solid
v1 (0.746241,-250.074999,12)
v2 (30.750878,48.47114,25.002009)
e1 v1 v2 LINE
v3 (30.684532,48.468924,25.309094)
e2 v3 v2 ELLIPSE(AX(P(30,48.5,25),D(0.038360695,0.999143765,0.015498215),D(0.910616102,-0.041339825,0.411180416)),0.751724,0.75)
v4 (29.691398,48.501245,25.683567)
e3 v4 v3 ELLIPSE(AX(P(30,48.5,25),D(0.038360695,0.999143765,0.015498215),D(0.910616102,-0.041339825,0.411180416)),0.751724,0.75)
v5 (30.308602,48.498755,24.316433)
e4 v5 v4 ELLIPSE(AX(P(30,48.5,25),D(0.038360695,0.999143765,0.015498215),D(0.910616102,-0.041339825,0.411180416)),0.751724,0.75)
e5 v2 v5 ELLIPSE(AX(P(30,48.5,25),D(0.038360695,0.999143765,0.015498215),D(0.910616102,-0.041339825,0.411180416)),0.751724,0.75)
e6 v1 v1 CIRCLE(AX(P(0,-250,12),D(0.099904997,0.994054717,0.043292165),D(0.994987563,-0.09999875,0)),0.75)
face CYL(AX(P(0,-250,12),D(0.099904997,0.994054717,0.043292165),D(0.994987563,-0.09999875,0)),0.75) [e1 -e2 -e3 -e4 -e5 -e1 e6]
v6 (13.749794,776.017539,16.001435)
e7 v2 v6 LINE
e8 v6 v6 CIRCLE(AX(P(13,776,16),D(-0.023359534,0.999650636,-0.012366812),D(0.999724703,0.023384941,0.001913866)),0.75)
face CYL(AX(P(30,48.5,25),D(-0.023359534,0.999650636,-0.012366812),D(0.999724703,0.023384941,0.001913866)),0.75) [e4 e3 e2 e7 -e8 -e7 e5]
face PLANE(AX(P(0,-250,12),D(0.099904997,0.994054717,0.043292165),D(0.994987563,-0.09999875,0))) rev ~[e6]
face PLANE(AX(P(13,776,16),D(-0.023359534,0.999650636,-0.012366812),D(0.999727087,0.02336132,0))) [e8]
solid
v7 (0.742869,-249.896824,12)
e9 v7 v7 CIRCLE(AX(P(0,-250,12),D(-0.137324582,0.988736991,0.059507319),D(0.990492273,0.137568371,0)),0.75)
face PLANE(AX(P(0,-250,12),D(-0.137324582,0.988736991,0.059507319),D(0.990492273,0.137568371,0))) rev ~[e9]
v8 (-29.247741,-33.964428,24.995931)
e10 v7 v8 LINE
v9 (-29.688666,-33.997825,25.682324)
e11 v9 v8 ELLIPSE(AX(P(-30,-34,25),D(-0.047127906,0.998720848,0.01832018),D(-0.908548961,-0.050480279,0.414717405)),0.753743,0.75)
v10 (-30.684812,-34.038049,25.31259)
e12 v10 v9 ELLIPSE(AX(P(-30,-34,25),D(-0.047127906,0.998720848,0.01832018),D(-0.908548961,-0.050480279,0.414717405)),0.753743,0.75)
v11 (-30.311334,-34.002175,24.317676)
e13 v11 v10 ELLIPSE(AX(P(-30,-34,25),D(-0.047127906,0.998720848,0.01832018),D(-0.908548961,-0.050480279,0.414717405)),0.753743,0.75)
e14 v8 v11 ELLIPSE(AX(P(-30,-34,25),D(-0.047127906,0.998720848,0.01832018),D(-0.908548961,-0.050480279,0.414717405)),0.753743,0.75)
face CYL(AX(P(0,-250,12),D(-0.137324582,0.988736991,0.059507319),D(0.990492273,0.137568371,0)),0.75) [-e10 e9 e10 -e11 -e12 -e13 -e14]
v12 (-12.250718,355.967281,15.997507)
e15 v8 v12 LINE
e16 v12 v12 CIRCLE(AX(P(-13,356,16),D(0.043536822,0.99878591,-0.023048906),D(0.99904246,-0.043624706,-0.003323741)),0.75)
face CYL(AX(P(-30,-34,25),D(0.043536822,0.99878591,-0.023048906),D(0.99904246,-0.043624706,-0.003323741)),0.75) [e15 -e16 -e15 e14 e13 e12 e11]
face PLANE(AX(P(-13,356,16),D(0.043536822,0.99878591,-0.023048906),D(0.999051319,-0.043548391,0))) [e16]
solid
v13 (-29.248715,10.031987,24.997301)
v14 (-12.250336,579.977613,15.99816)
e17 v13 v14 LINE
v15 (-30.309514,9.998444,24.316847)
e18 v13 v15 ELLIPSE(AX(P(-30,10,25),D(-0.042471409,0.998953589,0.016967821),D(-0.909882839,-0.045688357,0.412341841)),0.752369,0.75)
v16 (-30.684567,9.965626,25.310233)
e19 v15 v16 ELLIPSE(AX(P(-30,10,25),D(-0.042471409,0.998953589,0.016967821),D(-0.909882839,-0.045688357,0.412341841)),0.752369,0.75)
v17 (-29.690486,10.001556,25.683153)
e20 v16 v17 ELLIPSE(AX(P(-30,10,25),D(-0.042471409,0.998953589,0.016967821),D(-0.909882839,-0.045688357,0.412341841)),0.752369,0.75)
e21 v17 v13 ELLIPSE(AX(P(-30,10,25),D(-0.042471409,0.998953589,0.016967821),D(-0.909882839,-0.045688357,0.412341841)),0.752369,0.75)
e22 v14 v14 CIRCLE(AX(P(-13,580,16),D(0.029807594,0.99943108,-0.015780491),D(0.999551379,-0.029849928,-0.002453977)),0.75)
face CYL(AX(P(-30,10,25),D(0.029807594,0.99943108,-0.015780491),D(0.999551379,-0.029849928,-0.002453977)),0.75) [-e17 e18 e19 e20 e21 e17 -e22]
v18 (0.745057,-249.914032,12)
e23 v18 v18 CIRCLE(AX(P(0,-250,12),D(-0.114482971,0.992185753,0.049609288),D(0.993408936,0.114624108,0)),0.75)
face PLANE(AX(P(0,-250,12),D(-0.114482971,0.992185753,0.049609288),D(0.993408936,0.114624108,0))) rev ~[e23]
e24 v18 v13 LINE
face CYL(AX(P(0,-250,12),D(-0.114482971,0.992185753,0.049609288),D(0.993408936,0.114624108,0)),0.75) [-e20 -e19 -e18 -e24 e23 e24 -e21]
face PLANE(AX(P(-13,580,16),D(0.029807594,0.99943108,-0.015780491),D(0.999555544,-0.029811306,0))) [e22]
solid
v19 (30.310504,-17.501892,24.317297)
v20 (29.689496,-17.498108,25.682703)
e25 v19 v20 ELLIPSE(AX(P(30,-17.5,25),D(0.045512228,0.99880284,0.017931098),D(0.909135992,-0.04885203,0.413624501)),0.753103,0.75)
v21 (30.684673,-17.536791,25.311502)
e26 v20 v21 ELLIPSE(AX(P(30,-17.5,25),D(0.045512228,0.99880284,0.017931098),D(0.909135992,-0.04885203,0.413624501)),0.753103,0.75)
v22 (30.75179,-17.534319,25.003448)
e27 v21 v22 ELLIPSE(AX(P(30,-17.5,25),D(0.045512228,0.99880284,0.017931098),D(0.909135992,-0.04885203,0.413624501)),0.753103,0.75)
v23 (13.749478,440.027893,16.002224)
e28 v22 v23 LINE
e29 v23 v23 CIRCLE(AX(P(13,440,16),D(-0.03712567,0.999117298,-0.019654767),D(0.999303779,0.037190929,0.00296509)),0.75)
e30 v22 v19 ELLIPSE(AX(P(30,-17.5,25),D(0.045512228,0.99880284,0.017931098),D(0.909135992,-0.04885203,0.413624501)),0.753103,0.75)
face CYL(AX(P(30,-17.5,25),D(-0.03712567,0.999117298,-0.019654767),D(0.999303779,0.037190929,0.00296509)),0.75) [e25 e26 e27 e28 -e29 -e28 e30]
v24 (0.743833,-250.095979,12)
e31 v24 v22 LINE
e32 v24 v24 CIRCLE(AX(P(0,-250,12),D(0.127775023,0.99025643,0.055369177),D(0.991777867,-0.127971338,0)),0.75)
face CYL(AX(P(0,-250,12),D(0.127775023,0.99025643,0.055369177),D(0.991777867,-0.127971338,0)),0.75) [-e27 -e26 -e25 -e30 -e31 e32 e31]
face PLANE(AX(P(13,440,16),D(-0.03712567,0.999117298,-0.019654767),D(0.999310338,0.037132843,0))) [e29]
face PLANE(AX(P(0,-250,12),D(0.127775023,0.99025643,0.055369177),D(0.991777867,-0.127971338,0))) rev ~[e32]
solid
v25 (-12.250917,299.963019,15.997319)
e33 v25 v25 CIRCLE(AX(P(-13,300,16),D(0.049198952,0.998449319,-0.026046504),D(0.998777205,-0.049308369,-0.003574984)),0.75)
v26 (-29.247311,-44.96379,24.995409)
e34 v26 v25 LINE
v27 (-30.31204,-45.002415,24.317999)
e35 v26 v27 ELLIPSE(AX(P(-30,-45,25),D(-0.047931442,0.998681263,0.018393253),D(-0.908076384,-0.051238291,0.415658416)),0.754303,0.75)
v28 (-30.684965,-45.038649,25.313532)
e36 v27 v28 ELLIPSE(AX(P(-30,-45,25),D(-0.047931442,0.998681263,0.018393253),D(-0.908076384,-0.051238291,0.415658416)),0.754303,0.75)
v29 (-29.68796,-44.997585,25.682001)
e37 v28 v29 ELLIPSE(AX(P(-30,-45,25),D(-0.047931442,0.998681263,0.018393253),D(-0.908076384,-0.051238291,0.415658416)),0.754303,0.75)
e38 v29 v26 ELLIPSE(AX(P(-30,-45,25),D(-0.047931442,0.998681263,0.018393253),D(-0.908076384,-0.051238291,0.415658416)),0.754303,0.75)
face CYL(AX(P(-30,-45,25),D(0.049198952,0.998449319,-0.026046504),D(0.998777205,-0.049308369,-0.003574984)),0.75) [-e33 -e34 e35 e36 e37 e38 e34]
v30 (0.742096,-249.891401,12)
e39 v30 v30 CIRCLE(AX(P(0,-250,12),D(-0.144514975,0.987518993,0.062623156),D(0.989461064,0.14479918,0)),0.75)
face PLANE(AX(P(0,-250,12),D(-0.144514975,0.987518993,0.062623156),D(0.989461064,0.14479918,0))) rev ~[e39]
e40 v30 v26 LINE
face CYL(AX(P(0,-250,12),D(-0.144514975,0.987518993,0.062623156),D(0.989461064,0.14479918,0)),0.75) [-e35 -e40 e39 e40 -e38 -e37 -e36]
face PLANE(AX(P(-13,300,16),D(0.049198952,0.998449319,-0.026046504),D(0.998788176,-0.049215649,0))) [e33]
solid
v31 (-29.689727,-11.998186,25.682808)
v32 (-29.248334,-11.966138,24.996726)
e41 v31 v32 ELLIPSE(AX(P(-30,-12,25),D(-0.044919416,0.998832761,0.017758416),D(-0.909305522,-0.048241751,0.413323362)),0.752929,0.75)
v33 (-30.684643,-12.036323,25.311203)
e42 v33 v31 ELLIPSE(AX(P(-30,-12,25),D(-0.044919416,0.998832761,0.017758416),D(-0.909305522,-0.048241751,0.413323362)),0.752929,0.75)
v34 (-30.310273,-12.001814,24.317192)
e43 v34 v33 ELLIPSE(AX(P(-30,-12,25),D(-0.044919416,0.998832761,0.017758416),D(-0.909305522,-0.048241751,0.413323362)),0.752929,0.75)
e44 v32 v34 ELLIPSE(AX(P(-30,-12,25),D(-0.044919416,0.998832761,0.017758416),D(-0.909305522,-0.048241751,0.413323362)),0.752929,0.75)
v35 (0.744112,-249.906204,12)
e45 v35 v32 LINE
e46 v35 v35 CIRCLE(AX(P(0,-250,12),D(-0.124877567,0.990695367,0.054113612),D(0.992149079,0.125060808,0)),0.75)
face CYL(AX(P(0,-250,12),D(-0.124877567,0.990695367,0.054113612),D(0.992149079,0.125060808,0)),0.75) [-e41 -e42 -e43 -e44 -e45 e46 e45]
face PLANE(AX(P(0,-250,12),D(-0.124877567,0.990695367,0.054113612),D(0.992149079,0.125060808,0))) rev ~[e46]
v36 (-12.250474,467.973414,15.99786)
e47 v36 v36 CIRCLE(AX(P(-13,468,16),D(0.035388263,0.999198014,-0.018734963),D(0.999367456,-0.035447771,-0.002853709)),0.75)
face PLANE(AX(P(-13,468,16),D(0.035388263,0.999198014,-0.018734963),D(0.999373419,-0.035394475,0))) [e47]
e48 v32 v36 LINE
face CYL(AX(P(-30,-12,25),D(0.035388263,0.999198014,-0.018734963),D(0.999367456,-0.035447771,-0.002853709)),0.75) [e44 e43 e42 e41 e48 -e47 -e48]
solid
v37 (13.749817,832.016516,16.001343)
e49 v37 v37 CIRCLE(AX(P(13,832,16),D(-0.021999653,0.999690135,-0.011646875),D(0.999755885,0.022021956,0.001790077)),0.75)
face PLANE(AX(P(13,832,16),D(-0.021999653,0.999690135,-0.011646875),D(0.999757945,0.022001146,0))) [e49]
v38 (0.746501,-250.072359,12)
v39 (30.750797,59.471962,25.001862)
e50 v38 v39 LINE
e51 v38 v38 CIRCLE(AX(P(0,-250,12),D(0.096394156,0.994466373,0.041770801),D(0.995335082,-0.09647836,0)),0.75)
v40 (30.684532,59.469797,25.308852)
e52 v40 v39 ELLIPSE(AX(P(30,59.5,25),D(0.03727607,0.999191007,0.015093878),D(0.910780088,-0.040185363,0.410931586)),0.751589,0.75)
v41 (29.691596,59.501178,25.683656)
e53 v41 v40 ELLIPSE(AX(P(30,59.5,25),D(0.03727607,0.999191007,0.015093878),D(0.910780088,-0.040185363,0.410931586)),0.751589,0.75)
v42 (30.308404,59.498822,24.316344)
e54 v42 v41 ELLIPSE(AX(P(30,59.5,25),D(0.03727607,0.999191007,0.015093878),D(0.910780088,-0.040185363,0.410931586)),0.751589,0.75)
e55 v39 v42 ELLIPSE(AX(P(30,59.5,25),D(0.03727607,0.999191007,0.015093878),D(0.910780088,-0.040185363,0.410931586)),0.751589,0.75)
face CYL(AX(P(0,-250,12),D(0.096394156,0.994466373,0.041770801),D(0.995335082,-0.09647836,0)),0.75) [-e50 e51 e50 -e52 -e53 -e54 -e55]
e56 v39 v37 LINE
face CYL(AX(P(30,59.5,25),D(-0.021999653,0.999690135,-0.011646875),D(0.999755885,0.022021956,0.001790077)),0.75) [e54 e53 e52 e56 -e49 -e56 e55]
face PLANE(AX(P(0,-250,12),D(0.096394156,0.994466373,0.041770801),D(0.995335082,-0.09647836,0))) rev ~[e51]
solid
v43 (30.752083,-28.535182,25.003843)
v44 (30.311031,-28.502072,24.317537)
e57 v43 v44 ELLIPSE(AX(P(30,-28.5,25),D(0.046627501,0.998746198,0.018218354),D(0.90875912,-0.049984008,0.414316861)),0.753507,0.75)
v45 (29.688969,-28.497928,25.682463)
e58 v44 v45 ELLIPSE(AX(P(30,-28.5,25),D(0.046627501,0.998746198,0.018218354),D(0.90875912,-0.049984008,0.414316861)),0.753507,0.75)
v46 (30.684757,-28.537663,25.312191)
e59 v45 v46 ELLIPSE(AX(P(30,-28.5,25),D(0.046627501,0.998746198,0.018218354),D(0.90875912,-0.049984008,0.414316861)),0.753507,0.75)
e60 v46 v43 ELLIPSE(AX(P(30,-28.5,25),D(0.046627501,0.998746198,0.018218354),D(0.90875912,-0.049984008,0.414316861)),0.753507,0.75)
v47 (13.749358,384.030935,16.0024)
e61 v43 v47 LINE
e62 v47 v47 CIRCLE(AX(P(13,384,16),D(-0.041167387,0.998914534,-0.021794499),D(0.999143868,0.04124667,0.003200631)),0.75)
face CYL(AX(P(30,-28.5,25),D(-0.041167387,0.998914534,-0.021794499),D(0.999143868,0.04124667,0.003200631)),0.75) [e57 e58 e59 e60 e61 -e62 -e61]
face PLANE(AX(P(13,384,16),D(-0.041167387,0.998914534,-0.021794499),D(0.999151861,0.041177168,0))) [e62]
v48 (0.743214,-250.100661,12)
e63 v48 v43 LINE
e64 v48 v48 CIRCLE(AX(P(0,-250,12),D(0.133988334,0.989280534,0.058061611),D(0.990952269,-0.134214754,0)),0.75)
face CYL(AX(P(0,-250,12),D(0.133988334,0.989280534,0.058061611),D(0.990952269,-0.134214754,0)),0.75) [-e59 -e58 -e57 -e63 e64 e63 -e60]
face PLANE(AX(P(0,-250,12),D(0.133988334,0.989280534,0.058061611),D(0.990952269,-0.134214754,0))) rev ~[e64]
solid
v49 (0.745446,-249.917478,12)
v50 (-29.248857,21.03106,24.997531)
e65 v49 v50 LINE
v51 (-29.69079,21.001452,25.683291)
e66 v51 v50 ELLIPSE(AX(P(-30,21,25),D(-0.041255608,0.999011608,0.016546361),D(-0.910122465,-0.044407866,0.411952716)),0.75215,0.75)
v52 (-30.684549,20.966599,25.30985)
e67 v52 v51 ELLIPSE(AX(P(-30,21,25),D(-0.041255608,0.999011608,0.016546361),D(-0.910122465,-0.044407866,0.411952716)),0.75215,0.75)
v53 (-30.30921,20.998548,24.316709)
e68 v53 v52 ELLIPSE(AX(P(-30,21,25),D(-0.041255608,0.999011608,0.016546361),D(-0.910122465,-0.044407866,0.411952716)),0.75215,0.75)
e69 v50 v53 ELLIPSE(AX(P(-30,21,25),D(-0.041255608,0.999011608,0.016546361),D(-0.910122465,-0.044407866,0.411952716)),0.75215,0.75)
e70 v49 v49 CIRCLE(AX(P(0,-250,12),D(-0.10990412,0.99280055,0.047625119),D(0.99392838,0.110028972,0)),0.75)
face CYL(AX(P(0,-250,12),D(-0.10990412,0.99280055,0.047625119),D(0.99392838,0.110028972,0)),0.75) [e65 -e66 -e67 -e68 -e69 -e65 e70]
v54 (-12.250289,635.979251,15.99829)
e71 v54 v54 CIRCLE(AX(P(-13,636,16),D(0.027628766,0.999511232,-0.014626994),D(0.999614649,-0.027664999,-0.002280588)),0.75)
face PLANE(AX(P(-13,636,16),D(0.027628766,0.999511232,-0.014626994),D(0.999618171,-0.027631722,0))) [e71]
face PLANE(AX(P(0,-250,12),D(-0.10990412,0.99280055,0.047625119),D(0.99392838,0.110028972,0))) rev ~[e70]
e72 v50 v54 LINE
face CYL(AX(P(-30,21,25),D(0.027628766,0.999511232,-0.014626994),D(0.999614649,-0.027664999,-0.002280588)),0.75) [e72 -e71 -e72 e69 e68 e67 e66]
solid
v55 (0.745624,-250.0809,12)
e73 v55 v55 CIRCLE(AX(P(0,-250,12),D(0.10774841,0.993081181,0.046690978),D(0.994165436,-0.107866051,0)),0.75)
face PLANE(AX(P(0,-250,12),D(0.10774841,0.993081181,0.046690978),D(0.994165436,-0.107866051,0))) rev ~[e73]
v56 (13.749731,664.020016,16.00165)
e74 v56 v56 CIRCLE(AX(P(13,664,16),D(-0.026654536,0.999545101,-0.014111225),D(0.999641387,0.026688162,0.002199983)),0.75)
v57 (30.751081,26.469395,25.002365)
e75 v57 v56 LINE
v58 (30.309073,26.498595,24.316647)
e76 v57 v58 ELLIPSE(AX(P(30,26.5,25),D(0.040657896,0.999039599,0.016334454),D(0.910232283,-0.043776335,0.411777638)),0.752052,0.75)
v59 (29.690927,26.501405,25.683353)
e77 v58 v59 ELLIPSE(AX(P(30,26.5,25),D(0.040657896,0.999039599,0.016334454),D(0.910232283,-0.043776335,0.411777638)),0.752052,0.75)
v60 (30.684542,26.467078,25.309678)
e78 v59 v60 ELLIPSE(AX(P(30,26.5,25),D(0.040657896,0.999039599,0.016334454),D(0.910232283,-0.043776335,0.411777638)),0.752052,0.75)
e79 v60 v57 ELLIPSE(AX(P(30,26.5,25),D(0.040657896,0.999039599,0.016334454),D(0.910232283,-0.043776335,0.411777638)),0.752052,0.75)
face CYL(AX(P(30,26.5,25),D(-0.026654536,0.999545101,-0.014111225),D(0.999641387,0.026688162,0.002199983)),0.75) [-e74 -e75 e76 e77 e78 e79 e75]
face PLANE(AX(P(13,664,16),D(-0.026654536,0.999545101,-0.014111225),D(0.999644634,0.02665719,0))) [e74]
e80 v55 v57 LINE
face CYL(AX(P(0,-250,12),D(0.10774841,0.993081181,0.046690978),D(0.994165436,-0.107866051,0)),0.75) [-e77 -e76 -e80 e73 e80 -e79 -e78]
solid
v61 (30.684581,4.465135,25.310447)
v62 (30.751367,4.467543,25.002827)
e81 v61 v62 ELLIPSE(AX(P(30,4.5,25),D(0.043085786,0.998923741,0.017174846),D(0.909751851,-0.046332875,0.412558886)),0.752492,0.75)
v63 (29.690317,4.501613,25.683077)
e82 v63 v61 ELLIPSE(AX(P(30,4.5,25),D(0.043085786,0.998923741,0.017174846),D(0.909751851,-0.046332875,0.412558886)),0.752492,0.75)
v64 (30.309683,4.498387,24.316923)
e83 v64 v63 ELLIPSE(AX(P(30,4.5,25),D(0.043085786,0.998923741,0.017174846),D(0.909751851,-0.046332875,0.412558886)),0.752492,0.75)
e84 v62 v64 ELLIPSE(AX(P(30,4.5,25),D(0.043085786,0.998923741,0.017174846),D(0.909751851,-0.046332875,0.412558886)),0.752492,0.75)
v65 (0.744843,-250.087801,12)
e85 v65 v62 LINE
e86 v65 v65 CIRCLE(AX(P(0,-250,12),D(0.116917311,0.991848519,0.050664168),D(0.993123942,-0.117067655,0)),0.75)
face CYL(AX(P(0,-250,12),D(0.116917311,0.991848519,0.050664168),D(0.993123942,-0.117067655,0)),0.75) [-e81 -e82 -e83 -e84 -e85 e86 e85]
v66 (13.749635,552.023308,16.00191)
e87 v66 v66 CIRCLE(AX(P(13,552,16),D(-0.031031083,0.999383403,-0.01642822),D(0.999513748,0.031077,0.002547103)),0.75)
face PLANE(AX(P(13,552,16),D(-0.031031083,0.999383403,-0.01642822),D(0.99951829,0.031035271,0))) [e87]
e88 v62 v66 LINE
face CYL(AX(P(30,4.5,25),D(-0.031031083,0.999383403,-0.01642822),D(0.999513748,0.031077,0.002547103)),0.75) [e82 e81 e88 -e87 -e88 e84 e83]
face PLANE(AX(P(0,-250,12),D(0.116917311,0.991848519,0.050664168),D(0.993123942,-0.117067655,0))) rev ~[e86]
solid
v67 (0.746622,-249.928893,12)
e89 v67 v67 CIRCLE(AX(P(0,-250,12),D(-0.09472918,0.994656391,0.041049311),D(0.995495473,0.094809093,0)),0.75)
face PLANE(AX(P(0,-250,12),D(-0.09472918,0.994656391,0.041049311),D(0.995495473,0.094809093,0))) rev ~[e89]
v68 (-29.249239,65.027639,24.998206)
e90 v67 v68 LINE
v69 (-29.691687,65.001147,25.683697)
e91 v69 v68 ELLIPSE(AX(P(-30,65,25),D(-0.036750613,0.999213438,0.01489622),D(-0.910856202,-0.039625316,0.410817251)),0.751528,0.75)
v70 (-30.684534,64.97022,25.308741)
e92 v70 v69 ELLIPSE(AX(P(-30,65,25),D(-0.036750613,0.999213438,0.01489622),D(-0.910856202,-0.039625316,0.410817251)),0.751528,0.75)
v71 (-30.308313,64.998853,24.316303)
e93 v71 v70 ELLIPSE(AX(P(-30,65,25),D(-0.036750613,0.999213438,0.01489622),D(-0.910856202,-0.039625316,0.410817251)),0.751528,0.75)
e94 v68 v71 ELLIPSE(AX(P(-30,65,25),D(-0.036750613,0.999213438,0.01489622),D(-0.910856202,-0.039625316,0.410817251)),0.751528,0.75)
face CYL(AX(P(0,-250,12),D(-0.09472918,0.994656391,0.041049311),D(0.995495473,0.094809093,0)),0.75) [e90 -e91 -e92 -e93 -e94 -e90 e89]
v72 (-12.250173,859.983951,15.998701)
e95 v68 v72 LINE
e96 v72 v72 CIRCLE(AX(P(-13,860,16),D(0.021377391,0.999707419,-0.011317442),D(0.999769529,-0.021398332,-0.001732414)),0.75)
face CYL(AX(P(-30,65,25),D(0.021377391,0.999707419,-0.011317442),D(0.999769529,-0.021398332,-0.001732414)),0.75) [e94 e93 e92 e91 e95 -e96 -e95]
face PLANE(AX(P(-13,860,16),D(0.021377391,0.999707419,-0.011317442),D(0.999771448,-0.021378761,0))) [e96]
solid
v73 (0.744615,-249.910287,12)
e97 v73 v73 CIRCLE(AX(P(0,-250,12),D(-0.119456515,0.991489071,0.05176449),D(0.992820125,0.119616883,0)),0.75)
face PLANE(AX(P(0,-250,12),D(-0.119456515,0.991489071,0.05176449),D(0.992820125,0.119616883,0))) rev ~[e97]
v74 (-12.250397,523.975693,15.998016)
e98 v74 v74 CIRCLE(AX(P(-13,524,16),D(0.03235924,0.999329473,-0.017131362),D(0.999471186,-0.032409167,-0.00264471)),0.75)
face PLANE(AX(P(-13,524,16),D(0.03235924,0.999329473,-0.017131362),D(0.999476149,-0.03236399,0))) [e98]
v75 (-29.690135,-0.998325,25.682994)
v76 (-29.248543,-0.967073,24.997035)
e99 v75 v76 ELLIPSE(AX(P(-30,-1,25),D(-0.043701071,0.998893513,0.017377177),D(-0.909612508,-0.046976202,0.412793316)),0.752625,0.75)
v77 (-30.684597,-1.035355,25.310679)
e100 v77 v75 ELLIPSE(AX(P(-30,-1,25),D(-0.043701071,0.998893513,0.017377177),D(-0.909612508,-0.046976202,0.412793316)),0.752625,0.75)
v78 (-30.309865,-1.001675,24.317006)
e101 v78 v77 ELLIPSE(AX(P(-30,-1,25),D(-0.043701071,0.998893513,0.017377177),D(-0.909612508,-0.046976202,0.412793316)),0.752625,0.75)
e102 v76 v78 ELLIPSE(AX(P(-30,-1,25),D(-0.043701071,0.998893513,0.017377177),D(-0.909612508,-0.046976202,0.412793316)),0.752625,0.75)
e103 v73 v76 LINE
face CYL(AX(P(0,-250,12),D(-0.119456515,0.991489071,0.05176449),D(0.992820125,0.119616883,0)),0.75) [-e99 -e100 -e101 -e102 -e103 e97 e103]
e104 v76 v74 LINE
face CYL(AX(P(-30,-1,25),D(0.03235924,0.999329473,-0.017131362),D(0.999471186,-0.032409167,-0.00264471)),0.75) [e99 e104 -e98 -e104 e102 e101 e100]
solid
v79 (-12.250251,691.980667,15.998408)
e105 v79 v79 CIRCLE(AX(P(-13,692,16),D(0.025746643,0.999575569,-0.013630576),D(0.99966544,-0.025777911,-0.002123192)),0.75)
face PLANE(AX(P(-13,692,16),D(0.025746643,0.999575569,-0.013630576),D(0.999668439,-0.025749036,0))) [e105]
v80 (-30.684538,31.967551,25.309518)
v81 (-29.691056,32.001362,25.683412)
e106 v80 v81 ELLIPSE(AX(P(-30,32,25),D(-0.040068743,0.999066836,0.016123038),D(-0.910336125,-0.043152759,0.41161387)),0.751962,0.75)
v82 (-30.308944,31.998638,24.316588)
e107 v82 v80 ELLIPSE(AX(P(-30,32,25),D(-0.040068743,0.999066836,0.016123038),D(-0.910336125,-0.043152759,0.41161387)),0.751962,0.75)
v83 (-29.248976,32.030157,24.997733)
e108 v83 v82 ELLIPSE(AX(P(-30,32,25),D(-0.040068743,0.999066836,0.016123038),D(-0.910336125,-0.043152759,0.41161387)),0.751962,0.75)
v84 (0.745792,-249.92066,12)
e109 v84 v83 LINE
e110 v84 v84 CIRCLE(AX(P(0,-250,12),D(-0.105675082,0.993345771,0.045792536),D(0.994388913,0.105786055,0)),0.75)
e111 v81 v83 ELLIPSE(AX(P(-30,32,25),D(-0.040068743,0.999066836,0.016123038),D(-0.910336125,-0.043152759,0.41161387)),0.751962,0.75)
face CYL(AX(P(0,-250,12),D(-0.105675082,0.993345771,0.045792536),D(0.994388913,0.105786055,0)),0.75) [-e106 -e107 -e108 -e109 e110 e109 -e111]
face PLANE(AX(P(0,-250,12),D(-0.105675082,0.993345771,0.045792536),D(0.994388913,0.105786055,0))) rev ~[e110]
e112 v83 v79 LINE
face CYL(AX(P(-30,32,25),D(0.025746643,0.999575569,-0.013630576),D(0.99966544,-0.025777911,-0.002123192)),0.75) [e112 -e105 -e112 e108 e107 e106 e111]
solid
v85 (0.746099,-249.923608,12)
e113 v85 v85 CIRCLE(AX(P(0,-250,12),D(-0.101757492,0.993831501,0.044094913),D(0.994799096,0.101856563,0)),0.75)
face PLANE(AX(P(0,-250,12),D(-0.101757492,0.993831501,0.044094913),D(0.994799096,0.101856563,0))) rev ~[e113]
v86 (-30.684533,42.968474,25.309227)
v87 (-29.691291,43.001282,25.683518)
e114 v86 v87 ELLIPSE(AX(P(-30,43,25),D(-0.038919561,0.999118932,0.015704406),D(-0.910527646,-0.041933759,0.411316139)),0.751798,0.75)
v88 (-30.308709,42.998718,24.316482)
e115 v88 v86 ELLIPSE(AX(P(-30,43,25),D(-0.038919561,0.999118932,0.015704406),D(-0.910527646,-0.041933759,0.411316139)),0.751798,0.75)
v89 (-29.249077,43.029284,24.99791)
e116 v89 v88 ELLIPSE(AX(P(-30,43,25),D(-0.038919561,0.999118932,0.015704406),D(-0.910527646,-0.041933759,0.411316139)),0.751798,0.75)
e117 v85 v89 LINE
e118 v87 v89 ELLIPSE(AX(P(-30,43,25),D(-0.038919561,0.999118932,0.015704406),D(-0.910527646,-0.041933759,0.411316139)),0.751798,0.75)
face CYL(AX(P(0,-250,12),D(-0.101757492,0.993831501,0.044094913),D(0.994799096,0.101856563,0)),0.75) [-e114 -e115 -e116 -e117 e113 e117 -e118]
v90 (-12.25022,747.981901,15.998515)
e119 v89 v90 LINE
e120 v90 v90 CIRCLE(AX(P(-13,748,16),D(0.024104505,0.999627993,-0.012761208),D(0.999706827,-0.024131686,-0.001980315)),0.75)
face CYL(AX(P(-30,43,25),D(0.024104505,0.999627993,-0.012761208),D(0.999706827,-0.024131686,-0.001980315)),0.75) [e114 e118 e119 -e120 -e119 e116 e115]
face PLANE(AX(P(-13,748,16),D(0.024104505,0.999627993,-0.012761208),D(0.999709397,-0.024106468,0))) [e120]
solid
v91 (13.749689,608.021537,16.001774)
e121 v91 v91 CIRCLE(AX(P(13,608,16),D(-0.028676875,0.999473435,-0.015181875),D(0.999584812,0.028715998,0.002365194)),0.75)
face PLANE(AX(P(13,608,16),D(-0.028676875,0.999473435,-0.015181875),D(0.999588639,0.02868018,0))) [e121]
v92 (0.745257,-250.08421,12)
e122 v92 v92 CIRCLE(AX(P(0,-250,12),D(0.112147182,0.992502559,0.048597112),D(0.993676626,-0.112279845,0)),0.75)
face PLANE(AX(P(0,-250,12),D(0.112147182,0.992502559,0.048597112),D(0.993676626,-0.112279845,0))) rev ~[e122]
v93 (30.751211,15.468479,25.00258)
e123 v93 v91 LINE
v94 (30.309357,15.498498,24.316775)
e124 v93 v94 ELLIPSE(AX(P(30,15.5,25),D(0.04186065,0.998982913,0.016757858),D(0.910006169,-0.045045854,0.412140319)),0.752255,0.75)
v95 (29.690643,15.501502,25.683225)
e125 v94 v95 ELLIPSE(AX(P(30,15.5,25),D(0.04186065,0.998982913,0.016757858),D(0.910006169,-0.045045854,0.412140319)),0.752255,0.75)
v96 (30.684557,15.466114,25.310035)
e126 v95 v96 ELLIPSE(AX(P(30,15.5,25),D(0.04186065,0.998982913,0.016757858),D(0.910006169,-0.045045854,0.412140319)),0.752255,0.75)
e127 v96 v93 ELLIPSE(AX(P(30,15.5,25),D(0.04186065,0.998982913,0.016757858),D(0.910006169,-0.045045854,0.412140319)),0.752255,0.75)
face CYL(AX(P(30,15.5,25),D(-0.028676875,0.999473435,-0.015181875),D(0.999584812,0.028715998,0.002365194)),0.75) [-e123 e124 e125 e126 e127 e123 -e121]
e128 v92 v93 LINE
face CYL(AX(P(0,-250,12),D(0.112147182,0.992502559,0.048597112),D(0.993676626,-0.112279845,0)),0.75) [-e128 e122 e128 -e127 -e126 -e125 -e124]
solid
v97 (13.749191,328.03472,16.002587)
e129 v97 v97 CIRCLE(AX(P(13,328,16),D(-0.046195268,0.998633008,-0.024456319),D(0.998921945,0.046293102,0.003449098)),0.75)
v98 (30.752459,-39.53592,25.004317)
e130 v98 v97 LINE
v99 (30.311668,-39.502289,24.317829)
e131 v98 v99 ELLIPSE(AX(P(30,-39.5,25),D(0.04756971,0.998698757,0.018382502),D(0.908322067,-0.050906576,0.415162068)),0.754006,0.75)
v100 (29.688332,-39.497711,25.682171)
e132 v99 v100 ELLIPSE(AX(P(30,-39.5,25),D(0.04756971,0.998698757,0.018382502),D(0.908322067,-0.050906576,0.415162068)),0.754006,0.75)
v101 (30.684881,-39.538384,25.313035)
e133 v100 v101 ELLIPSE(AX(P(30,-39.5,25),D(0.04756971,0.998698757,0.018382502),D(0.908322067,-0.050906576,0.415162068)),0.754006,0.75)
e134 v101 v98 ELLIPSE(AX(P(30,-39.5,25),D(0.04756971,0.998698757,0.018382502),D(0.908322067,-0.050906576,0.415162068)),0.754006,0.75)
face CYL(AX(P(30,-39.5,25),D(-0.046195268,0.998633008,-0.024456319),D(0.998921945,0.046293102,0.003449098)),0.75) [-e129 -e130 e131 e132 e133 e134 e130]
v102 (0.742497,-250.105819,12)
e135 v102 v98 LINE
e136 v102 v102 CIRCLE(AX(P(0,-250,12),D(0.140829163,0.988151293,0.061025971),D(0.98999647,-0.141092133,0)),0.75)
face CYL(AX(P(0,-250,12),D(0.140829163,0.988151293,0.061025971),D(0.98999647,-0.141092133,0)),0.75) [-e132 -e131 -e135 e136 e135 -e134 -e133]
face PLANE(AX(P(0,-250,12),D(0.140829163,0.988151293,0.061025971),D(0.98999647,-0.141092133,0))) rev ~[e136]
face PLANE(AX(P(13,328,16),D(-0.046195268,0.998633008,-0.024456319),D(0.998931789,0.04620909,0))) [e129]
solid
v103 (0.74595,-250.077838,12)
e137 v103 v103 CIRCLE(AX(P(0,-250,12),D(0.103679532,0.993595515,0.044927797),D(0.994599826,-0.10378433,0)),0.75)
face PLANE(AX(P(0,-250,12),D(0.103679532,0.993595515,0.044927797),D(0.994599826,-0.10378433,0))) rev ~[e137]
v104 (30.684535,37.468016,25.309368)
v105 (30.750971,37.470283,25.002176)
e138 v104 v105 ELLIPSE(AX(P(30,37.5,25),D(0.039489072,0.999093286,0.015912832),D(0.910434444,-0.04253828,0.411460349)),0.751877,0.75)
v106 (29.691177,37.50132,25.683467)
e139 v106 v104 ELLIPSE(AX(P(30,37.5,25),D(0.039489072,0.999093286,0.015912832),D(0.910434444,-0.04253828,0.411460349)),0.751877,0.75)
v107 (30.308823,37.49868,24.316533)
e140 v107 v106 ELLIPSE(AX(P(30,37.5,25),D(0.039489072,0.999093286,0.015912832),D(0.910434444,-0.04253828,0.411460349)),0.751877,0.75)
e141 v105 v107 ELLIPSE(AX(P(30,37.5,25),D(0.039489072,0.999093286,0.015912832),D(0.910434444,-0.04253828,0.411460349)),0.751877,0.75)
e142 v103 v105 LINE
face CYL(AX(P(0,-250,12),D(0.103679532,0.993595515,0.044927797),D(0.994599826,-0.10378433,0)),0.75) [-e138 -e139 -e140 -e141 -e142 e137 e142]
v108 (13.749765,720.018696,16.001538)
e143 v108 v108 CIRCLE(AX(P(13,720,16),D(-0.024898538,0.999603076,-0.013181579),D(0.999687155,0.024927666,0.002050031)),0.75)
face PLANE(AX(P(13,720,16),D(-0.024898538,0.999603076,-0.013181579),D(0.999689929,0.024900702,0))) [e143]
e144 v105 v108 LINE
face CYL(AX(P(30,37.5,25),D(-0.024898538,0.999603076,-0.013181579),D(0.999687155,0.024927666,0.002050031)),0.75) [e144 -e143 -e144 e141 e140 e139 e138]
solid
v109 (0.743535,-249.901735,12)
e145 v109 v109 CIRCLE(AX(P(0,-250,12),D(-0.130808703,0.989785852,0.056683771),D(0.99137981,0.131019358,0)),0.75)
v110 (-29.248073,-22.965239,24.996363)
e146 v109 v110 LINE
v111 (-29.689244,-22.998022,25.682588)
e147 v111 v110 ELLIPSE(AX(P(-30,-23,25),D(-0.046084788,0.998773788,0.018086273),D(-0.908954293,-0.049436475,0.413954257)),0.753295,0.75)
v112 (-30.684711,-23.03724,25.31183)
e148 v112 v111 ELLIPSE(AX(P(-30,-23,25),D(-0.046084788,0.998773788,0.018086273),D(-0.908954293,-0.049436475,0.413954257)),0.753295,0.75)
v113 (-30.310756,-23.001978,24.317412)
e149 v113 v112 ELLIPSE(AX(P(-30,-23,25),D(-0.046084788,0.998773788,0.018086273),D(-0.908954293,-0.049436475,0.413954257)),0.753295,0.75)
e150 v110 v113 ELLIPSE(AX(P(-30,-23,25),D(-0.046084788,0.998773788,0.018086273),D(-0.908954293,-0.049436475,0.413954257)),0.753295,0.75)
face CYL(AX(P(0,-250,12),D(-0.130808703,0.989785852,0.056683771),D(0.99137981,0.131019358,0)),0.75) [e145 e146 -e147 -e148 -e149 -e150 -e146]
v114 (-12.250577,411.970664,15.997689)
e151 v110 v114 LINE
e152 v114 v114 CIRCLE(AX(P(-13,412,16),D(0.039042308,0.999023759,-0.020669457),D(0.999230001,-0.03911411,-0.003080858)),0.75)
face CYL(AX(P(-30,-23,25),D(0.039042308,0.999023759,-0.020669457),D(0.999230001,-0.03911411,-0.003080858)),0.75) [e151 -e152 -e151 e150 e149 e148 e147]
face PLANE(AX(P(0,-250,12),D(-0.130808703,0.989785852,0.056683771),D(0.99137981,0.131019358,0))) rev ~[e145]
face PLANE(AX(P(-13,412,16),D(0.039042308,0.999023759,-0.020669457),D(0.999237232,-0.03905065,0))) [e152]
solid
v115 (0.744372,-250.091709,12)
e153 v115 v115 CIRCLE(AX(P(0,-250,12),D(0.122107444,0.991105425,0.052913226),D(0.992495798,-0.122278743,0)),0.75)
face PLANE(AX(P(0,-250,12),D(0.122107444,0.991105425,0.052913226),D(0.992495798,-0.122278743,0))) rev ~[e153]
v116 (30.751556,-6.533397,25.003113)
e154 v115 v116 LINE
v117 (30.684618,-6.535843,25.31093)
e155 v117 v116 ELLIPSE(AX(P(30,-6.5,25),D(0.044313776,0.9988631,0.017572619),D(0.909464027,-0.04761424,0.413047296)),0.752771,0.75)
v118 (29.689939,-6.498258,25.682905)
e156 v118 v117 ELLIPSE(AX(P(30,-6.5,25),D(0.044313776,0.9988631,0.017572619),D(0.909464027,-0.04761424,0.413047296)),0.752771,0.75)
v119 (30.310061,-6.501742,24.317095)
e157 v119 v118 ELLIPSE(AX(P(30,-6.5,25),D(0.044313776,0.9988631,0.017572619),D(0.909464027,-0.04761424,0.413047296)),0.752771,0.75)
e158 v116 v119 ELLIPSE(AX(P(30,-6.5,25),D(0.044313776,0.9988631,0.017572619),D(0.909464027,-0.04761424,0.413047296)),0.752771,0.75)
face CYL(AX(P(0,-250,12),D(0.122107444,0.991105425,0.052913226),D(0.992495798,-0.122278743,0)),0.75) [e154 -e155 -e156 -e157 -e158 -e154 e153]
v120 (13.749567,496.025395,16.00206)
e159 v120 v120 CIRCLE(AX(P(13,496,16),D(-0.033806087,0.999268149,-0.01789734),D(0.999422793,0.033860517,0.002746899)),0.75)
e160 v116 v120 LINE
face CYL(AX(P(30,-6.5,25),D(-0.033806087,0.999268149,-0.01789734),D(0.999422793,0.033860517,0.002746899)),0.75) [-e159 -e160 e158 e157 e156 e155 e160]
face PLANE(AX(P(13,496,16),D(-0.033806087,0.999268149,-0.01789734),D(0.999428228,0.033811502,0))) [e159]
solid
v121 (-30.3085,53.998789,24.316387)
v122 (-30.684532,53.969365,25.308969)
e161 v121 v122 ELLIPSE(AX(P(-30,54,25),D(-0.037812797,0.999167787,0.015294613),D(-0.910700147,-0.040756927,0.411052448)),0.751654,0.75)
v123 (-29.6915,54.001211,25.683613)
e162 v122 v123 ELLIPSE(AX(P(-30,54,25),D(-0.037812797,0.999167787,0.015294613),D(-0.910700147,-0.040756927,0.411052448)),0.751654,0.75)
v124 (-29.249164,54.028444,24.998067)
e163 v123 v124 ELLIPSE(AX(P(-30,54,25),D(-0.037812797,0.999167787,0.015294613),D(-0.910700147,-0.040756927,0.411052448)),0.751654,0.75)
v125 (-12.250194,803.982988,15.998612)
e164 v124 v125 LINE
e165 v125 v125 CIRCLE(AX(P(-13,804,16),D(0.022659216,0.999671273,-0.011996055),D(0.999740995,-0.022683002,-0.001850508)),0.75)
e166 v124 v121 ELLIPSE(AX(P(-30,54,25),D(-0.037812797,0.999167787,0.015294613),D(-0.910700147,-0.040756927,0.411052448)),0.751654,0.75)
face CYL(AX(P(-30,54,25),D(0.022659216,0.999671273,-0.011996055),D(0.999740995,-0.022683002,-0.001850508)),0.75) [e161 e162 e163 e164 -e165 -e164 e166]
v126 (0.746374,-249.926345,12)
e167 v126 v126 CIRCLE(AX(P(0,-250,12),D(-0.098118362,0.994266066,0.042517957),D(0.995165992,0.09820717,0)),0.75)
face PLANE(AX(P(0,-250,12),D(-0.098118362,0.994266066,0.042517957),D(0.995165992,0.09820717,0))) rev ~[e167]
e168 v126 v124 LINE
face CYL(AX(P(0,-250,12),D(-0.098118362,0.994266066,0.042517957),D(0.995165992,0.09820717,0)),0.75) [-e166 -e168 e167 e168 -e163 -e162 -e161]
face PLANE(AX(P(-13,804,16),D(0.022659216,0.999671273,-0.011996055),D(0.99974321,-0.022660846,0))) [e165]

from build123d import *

# Parameters (mm, degrees)
SWEEP22_PROFILE_R = 0.75
SWEEP23_PROFILE_R = 0.75
SWEEP24_PROFILE_R = 0.75
SWEEP25_PROFILE_R = 0.75
SWEEP26_PROFILE_R = 0.75
SWEEP27_PROFILE_R = 0.75
SWEEP28_PROFILE_R = 0.75
SWEEP29_PROFILE_R = 0.75
SWEEP30_PROFILE_R = 0.75
SWEEP31_PROFILE_R = 0.75
SWEEP32_PROFILE_R = 0.75
SWEEP33_PROFILE_R = 0.75
SWEEP34_PROFILE_R = 0.75
SWEEP35_PROFILE_R = 0.75
SWEEP36_PROFILE_R = 0.75
SWEEP37_PROFILE_R = 0.75
SWEEP38_PROFILE_R = 0.75
SWEEP39_PROFILE_R = 0.75
SWEEP40_PROFILE_R = 0.75
SWEEP41_PROFILE_R = 0.75
SWEEP42_PROFILE_R = 0.75


with BuildPart() as part:
    # Sweep22: sweep along a curve in space
    with BuildLine() as sweep22_path:
        Line((0, -250, 12), (-30, -45, 25))
        Line((-30, -45, 25), (-13, 300, 16))
    # Sweep22 profile (on start of the path) → Sweep22 (sweep)
    with BuildSketch(Plane(origin=(0, -250, 12), x_dir=(0.9894610641341026, 0.14479918011718573, 0), z_dir=(-0.14451497465479335, 0.9875189934744213, 0.06262315568374378))):
        Circle(SWEEP22_PROFILE_R)
    sweep(path=sweep22_path.line, transition=Transition.RIGHT)


with BuildPart() as body_2:
    # Sweep23: sweep along a curve in space
    with BuildLine() as sweep23_path:
        Line((0, -250, 12), (-30, -34, 25))
        Line((-30, -34, 25), (-13, 356, 16))
    # Sweep23 profile (on start of the path) → Sweep23 (sweep)
    with BuildSketch(Plane(origin=(0, -250, 12), x_dir=(0.9904922731777516, 0.1375683712746877, 0), z_dir=(-0.1373245821369522, 0.9887369913860559, 0.05950731892601262))):
        Circle(SWEEP23_PROFILE_R)
    sweep(path=sweep23_path.line, transition=Transition.RIGHT)


with BuildPart() as body_3:
    # Sweep24: sweep along a curve in space
    with BuildLine() as sweep24_path:
        Line((0, -250, 12), (-30, -23, 25))
        Line((-30, -23, 25), (-13, 412, 16))
    # Sweep24 profile (on start of the path) → Sweep24 (sweep)
    with BuildSketch(Plane(origin=(0, -250, 12), x_dir=(0.9913798100566988, 0.13101935815727297, 0), z_dir=(-0.1308087029401943, 0.9897858522474704, 0.05668377127408421))):
        Circle(SWEEP24_PROFILE_R)
    sweep(path=sweep24_path.line, transition=Transition.RIGHT)


with BuildPart() as body_4:
    # Sweep25: sweep along a curve in space
    with BuildLine() as sweep25_path:
        Line((0, -250, 12), (-30, -12, 25))
        Line((-30, -12, 25), (-13, 468, 16))
    # Sweep25 profile (on start of the path) → Sweep25 (sweep)
    with BuildSketch(Plane(origin=(0, -250, 12), x_dir=(0.9921490786390947, 0.12506080823181867, 0), z_dir=(-0.12487756726527073, 0.9906953669711478, 0.054113612481617314))):
        Circle(SWEEP25_PROFILE_R)
    sweep(path=sweep25_path.line, transition=Transition.RIGHT)


with BuildPart() as body_5:
    # Sweep26: sweep along a curve in space
    with BuildLine() as sweep26_path:
        Line((0, -250, 12), (-30, -1, 25))
        Line((-30, -1, 25), (-13, 524, 16))
    # Sweep26 profile (on start of the path) → Sweep26 (sweep)
    with BuildSketch(Plane(origin=(0, -250, 12), x_dir=(0.9928201254014766, 0.11961688257849115, 0), z_dir=(-0.11945651462750372, 0.9914890714082808, 0.051764489671918275))):
        Circle(SWEEP26_PROFILE_R)
    sweep(path=sweep26_path.line, transition=Transition.RIGHT)


with BuildPart() as body_6:
    # Sweep27: sweep along a curve in space
    with BuildLine() as sweep27_path:
        Line((0, -250, 12), (-30, 10, 25))
        Line((-30, 10, 25), (-13, 580, 16))
    # Sweep27 profile (on start of the path) → Sweep27 (sweep)
    with BuildSketch(Plane(origin=(0, -250, 12), x_dir=(0.9934089358711312, 0.11462410798513052, 0), z_dir=(-0.1144829714633204, 0.9921857526821101, 0.049609287634105506))):
        Circle(SWEEP27_PROFILE_R)
    sweep(path=sweep27_path.line, transition=Transition.RIGHT)


with BuildPart() as body_7:
    # Sweep28: sweep along a curve in space
    with BuildLine() as sweep28_path:
        Line((0, -250, 12), (-30, 21, 25))
        Line((-30, 21, 25), (-13, 636, 16))
    # Sweep28 profile (on start of the path) → Sweep28 (sweep)
    with BuildSketch(Plane(origin=(0, -250, 12), x_dir=(0.9939283803781616, 0.11002897199758246, 0), z_dir=(-0.10990411994916797, 0.992800550207484, 0.047625118644639454))):
        Circle(SWEEP28_PROFILE_R)
    sweep(path=sweep28_path.line, transition=Transition.RIGHT)


with BuildPart() as body_8:
    # Sweep29: sweep along a curve in space
    with BuildLine() as sweep29_path:
        Line((0, -250, 12), (-30, 32, 25))
        Line((-30, 32, 25), (-13, 692, 16))
    # Sweep29 profile (on start of the path) → Sweep29 (sweep)
    with BuildSketch(Plane(origin=(0, -250, 12), x_dir=(0.9943889131791124, 0.10578605459352258, 0), z_dir=(-0.1056750820194165, 0.9933457709825152, 0.04579253554174715))):
        Circle(SWEEP29_PROFILE_R)
    sweep(path=sweep29_path.line, transition=Transition.RIGHT)


with BuildPart() as body_9:
    # Sweep30: sweep along a curve in space
    with BuildLine() as sweep30_path:
        Line((0, -250, 12), (-30, 43, 25))
        Line((-30, 43, 25), (-13, 748, 16))
    # Sweep30 profile (on start of the path) → Sweep30 (sweep)
    with BuildSketch(Plane(origin=(0, -250, 12), x_dir=(0.9947990956151798, 0.10185656269097404, 0), z_dir=(-0.1017574915280313, 0.993831500590439, 0.04409491299548023))):
        Circle(SWEEP30_PROFILE_R)
    sweep(path=sweep30_path.line, transition=Transition.RIGHT)


with BuildPart() as body_10:
    # Sweep31: sweep along a curve in space
    with BuildLine() as sweep31_path:
        Line((0, -250, 12), (-30, 54, 25))
        Line((-30, 54, 25), (-13, 804, 16))
    # Sweep31 profile (on start of the path) → Sweep31 (sweep)
    with BuildSketch(Plane(origin=(0, -250, 12), x_dir=(0.995165992037597, 0.09820717026686812, 0), z_dir=(-0.09811836179767335, 0.9942660662164232, 0.04251795677899178))):
        Circle(SWEEP31_PROFILE_R)
    sweep(path=sweep31_path.line, transition=Transition.RIGHT)


with BuildPart() as body_11:
    # Sweep32: sweep along a curve in space
    with BuildLine() as sweep32_path:
        Line((0, -250, 12), (-30, 65, 25))
        Line((-30, 65, 25), (-13, 860, 16))
    # Sweep32 profile (on start of the path) → Sweep32 (sweep)
    with BuildSketch(Plane(origin=(0, -250, 12), x_dir=(0.9954954725939523, 0.09480909262799546, 0), z_dir=(-0.09472918011025315, 0.994656391157658, 0.0410493113811097))):
        Circle(SWEEP32_PROFILE_R)
    sweep(path=sweep32_path.line, transition=Transition.RIGHT)


with BuildPart() as body_12:
    # Sweep33: sweep along a curve in space
    with BuildLine() as sweep33_path:
        Line((0, -250, 12), (30, -39.5, 25))
        Line((30, -39.5, 25), (13, 328, 16))
    # Sweep33 profile (on start of the path) → Sweep33 (sweep)
    with BuildSketch(Plane(origin=(0, -250, 12), x_dir=(0.9899964696308815, -0.1410921334390805, 0), z_dir=(0.1408291628931851, 0.9881512929671821, 0.06102597058704687))):
        Circle(SWEEP33_PROFILE_R)
    sweep(path=sweep33_path.line, transition=Transition.RIGHT)


with BuildPart() as body_13:
    # Sweep34: sweep along a curve in space
    with BuildLine() as sweep34_path:
        Line((0, -250, 12), (30, -28.5, 25))
        Line((30, -28.5, 25), (13, 384, 16))
    # Sweep34 profile (on start of the path) → Sweep34 (sweep)
    with BuildSketch(Plane(origin=(0, -250, 12), x_dir=(0.9909522691491238, -0.13421475428656307, 0), z_dir=(0.1339883342180221, 0.9892805343097296, 0.05806161149447623))):
        Circle(SWEEP34_PROFILE_R)
    sweep(path=sweep34_path.line, transition=Transition.RIGHT)


with BuildPart() as body_14:
    # Sweep35: sweep along a curve in space
    with BuildLine() as sweep35_path:
        Line((0, -250, 12), (30, -17.5, 25))
        Line((30, -17.5, 25), (13, 440, 16))
    # Sweep35 profile (on start of the path) → Sweep35 (sweep)
    with BuildSketch(Plane(origin=(0, -250, 12), x_dir=(0.9917778666340251, -0.1279713376301968, 0), z_dir=(0.12777502326103474, 0.9902564302730191, 0.05536917674644838))):
        Circle(SWEEP35_PROFILE_R)
    sweep(path=sweep35_path.line, transition=Transition.RIGHT)


with BuildPart() as body_15:
    # Sweep36: sweep along a curve in space
    with BuildLine() as sweep36_path:
        Line((0, -250, 12), (30, -6.5, 25))
        Line((30, -6.5, 25), (13, 496, 16))
    # Sweep36 profile (on start of the path) → Sweep36 (sweep)
    with BuildSketch(Plane(origin=(0, -250, 12), x_dir=(0.9924957979717628, -0.1222787430766032, 0), z_dir=(0.12210744449965585, 0.9911054245222067, 0.05291322594985087))):
        Circle(SWEEP36_PROFILE_R)
    sweep(path=sweep36_path.line, transition=Transition.RIGHT)


with BuildPart() as body_16:
    # Sweep37: sweep along a curve in space
    with BuildLine() as sweep37_path:
        Line((0, -250, 12), (30, 4.5, 25))
        Line((30, 4.5, 25), (13, 552, 16))
    # Sweep37 profile (on start of the path) → Sweep37 (sweep)
    with BuildSketch(Plane(origin=(0, -250, 12), x_dir=(0.9931239419611106, -0.11706765524099537, 0), z_dir=(0.11691731068198338, 0.991848518952159, 0.0506641679621928))):
        Circle(SWEEP37_PROFILE_R)
    sweep(path=sweep37_path.line, transition=Transition.RIGHT)


with BuildPart() as body_17:
    # Sweep38: sweep along a curve in space
    with BuildLine() as sweep38_path:
        Line((0, -250, 12), (30, 15.5, 25))
        Line((30, 15.5, 25), (13, 608, 16))
    # Sweep38 profile (on start of the path) → Sweep38 (sweep)
    with BuildSketch(Plane(origin=(0, -250, 12), x_dir=(0.9936766257044426, -0.11227984471236639, 0), z_dir=(0.11214718184631475, 0.9925025593398855, 0.04859711213340306))):
        Circle(SWEEP38_PROFILE_R)
    sweep(path=sweep38_path.line, transition=Transition.RIGHT)


with BuildPart() as body_18:
    # Sweep39: sweep along a curve in space
    with BuildLine() as sweep39_path:
        Line((0, -250, 12), (30, 26.5, 25))
        Line((30, 26.5, 25), (13, 664, 16))
    # Sweep39 profile (on start of the path) → Sweep39 (sweep)
    with BuildSketch(Plane(origin=(0, -250, 12), x_dir=(0.9941654364579972, -0.10786605097193458, 0), z_dir=(0.10774841026904777, 0.9930811813130569, 0.04669097778325403))):
        Circle(SWEEP39_PROFILE_R)
    sweep(path=sweep39_path.line, transition=Transition.RIGHT)


with BuildPart() as body_19:
    # Sweep40: sweep along a curve in space
    with BuildLine() as sweep40_path:
        Line((0, -250, 12), (30, 37.5, 25))
        Line((30, 37.5, 25), (13, 720, 16))
    # Sweep40 profile (on start of the path) → Sweep40 (sweep)
    with BuildSketch(Plane(origin=(0, -250, 12), x_dir=(0.9945998255205079, -0.10378432961953125, 0), z_dir=(0.10367953201321403, 0.9935955151266345, 0.04492779720572608))):
        Circle(SWEEP40_PROFILE_R)
    sweep(path=sweep40_path.line, transition=Transition.RIGHT)


with BuildPart() as body_20:
    # Sweep41: sweep along a curve in space
    with BuildLine() as sweep41_path:
        Line((0, -250, 12), (30, 48.5, 25))
        Line((30, 48.5, 25), (13, 776, 16))
    # Sweep41 profile (on start of the path) → Sweep41 (sweep)
    with BuildSketch(Plane(origin=(0, -250, 12), x_dir=(0.9949875627331983, -0.09999875002343701, 0), z_dir=(0.09990499666730639, 0.9940547168396986, 0.043292165222499436))):
        Circle(SWEEP41_PROFILE_R)
    sweep(path=sweep41_path.line, transition=Transition.RIGHT)


with BuildPart() as body_21:
    # Sweep42: sweep along a curve in space
    with BuildLine() as sweep42_path:
        Line((0, -250, 12), (30, 59.5, 25))
        Line((30, 59.5, 25), (13, 832, 16))
    # Sweep42 profile (on start of the path) → Sweep42 (sweep)
    with BuildSketch(Plane(origin=(0, -250, 12), x_dir=(0.9953350822820908, -0.09647836015658391, 0), z_dir=(0.09639415569882931, 0.9944663729595891, 0.04177080080282603))):
        Circle(SWEEP42_PROFILE_R)
    sweep(path=sweep42_path.line, transition=Transition.RIGHT)


solid = Compound([part.part, body_2.part, body_3.part, body_4.part, body_5.part, body_6.part, body_7.part, body_8.part, body_9.part, body_10.part, body_11.part, body_12.part, body_13.part, body_14.part, body_15.part, body_16.part, body_17.part, body_18.part, body_19.part, body_20.part, body_21.part])
